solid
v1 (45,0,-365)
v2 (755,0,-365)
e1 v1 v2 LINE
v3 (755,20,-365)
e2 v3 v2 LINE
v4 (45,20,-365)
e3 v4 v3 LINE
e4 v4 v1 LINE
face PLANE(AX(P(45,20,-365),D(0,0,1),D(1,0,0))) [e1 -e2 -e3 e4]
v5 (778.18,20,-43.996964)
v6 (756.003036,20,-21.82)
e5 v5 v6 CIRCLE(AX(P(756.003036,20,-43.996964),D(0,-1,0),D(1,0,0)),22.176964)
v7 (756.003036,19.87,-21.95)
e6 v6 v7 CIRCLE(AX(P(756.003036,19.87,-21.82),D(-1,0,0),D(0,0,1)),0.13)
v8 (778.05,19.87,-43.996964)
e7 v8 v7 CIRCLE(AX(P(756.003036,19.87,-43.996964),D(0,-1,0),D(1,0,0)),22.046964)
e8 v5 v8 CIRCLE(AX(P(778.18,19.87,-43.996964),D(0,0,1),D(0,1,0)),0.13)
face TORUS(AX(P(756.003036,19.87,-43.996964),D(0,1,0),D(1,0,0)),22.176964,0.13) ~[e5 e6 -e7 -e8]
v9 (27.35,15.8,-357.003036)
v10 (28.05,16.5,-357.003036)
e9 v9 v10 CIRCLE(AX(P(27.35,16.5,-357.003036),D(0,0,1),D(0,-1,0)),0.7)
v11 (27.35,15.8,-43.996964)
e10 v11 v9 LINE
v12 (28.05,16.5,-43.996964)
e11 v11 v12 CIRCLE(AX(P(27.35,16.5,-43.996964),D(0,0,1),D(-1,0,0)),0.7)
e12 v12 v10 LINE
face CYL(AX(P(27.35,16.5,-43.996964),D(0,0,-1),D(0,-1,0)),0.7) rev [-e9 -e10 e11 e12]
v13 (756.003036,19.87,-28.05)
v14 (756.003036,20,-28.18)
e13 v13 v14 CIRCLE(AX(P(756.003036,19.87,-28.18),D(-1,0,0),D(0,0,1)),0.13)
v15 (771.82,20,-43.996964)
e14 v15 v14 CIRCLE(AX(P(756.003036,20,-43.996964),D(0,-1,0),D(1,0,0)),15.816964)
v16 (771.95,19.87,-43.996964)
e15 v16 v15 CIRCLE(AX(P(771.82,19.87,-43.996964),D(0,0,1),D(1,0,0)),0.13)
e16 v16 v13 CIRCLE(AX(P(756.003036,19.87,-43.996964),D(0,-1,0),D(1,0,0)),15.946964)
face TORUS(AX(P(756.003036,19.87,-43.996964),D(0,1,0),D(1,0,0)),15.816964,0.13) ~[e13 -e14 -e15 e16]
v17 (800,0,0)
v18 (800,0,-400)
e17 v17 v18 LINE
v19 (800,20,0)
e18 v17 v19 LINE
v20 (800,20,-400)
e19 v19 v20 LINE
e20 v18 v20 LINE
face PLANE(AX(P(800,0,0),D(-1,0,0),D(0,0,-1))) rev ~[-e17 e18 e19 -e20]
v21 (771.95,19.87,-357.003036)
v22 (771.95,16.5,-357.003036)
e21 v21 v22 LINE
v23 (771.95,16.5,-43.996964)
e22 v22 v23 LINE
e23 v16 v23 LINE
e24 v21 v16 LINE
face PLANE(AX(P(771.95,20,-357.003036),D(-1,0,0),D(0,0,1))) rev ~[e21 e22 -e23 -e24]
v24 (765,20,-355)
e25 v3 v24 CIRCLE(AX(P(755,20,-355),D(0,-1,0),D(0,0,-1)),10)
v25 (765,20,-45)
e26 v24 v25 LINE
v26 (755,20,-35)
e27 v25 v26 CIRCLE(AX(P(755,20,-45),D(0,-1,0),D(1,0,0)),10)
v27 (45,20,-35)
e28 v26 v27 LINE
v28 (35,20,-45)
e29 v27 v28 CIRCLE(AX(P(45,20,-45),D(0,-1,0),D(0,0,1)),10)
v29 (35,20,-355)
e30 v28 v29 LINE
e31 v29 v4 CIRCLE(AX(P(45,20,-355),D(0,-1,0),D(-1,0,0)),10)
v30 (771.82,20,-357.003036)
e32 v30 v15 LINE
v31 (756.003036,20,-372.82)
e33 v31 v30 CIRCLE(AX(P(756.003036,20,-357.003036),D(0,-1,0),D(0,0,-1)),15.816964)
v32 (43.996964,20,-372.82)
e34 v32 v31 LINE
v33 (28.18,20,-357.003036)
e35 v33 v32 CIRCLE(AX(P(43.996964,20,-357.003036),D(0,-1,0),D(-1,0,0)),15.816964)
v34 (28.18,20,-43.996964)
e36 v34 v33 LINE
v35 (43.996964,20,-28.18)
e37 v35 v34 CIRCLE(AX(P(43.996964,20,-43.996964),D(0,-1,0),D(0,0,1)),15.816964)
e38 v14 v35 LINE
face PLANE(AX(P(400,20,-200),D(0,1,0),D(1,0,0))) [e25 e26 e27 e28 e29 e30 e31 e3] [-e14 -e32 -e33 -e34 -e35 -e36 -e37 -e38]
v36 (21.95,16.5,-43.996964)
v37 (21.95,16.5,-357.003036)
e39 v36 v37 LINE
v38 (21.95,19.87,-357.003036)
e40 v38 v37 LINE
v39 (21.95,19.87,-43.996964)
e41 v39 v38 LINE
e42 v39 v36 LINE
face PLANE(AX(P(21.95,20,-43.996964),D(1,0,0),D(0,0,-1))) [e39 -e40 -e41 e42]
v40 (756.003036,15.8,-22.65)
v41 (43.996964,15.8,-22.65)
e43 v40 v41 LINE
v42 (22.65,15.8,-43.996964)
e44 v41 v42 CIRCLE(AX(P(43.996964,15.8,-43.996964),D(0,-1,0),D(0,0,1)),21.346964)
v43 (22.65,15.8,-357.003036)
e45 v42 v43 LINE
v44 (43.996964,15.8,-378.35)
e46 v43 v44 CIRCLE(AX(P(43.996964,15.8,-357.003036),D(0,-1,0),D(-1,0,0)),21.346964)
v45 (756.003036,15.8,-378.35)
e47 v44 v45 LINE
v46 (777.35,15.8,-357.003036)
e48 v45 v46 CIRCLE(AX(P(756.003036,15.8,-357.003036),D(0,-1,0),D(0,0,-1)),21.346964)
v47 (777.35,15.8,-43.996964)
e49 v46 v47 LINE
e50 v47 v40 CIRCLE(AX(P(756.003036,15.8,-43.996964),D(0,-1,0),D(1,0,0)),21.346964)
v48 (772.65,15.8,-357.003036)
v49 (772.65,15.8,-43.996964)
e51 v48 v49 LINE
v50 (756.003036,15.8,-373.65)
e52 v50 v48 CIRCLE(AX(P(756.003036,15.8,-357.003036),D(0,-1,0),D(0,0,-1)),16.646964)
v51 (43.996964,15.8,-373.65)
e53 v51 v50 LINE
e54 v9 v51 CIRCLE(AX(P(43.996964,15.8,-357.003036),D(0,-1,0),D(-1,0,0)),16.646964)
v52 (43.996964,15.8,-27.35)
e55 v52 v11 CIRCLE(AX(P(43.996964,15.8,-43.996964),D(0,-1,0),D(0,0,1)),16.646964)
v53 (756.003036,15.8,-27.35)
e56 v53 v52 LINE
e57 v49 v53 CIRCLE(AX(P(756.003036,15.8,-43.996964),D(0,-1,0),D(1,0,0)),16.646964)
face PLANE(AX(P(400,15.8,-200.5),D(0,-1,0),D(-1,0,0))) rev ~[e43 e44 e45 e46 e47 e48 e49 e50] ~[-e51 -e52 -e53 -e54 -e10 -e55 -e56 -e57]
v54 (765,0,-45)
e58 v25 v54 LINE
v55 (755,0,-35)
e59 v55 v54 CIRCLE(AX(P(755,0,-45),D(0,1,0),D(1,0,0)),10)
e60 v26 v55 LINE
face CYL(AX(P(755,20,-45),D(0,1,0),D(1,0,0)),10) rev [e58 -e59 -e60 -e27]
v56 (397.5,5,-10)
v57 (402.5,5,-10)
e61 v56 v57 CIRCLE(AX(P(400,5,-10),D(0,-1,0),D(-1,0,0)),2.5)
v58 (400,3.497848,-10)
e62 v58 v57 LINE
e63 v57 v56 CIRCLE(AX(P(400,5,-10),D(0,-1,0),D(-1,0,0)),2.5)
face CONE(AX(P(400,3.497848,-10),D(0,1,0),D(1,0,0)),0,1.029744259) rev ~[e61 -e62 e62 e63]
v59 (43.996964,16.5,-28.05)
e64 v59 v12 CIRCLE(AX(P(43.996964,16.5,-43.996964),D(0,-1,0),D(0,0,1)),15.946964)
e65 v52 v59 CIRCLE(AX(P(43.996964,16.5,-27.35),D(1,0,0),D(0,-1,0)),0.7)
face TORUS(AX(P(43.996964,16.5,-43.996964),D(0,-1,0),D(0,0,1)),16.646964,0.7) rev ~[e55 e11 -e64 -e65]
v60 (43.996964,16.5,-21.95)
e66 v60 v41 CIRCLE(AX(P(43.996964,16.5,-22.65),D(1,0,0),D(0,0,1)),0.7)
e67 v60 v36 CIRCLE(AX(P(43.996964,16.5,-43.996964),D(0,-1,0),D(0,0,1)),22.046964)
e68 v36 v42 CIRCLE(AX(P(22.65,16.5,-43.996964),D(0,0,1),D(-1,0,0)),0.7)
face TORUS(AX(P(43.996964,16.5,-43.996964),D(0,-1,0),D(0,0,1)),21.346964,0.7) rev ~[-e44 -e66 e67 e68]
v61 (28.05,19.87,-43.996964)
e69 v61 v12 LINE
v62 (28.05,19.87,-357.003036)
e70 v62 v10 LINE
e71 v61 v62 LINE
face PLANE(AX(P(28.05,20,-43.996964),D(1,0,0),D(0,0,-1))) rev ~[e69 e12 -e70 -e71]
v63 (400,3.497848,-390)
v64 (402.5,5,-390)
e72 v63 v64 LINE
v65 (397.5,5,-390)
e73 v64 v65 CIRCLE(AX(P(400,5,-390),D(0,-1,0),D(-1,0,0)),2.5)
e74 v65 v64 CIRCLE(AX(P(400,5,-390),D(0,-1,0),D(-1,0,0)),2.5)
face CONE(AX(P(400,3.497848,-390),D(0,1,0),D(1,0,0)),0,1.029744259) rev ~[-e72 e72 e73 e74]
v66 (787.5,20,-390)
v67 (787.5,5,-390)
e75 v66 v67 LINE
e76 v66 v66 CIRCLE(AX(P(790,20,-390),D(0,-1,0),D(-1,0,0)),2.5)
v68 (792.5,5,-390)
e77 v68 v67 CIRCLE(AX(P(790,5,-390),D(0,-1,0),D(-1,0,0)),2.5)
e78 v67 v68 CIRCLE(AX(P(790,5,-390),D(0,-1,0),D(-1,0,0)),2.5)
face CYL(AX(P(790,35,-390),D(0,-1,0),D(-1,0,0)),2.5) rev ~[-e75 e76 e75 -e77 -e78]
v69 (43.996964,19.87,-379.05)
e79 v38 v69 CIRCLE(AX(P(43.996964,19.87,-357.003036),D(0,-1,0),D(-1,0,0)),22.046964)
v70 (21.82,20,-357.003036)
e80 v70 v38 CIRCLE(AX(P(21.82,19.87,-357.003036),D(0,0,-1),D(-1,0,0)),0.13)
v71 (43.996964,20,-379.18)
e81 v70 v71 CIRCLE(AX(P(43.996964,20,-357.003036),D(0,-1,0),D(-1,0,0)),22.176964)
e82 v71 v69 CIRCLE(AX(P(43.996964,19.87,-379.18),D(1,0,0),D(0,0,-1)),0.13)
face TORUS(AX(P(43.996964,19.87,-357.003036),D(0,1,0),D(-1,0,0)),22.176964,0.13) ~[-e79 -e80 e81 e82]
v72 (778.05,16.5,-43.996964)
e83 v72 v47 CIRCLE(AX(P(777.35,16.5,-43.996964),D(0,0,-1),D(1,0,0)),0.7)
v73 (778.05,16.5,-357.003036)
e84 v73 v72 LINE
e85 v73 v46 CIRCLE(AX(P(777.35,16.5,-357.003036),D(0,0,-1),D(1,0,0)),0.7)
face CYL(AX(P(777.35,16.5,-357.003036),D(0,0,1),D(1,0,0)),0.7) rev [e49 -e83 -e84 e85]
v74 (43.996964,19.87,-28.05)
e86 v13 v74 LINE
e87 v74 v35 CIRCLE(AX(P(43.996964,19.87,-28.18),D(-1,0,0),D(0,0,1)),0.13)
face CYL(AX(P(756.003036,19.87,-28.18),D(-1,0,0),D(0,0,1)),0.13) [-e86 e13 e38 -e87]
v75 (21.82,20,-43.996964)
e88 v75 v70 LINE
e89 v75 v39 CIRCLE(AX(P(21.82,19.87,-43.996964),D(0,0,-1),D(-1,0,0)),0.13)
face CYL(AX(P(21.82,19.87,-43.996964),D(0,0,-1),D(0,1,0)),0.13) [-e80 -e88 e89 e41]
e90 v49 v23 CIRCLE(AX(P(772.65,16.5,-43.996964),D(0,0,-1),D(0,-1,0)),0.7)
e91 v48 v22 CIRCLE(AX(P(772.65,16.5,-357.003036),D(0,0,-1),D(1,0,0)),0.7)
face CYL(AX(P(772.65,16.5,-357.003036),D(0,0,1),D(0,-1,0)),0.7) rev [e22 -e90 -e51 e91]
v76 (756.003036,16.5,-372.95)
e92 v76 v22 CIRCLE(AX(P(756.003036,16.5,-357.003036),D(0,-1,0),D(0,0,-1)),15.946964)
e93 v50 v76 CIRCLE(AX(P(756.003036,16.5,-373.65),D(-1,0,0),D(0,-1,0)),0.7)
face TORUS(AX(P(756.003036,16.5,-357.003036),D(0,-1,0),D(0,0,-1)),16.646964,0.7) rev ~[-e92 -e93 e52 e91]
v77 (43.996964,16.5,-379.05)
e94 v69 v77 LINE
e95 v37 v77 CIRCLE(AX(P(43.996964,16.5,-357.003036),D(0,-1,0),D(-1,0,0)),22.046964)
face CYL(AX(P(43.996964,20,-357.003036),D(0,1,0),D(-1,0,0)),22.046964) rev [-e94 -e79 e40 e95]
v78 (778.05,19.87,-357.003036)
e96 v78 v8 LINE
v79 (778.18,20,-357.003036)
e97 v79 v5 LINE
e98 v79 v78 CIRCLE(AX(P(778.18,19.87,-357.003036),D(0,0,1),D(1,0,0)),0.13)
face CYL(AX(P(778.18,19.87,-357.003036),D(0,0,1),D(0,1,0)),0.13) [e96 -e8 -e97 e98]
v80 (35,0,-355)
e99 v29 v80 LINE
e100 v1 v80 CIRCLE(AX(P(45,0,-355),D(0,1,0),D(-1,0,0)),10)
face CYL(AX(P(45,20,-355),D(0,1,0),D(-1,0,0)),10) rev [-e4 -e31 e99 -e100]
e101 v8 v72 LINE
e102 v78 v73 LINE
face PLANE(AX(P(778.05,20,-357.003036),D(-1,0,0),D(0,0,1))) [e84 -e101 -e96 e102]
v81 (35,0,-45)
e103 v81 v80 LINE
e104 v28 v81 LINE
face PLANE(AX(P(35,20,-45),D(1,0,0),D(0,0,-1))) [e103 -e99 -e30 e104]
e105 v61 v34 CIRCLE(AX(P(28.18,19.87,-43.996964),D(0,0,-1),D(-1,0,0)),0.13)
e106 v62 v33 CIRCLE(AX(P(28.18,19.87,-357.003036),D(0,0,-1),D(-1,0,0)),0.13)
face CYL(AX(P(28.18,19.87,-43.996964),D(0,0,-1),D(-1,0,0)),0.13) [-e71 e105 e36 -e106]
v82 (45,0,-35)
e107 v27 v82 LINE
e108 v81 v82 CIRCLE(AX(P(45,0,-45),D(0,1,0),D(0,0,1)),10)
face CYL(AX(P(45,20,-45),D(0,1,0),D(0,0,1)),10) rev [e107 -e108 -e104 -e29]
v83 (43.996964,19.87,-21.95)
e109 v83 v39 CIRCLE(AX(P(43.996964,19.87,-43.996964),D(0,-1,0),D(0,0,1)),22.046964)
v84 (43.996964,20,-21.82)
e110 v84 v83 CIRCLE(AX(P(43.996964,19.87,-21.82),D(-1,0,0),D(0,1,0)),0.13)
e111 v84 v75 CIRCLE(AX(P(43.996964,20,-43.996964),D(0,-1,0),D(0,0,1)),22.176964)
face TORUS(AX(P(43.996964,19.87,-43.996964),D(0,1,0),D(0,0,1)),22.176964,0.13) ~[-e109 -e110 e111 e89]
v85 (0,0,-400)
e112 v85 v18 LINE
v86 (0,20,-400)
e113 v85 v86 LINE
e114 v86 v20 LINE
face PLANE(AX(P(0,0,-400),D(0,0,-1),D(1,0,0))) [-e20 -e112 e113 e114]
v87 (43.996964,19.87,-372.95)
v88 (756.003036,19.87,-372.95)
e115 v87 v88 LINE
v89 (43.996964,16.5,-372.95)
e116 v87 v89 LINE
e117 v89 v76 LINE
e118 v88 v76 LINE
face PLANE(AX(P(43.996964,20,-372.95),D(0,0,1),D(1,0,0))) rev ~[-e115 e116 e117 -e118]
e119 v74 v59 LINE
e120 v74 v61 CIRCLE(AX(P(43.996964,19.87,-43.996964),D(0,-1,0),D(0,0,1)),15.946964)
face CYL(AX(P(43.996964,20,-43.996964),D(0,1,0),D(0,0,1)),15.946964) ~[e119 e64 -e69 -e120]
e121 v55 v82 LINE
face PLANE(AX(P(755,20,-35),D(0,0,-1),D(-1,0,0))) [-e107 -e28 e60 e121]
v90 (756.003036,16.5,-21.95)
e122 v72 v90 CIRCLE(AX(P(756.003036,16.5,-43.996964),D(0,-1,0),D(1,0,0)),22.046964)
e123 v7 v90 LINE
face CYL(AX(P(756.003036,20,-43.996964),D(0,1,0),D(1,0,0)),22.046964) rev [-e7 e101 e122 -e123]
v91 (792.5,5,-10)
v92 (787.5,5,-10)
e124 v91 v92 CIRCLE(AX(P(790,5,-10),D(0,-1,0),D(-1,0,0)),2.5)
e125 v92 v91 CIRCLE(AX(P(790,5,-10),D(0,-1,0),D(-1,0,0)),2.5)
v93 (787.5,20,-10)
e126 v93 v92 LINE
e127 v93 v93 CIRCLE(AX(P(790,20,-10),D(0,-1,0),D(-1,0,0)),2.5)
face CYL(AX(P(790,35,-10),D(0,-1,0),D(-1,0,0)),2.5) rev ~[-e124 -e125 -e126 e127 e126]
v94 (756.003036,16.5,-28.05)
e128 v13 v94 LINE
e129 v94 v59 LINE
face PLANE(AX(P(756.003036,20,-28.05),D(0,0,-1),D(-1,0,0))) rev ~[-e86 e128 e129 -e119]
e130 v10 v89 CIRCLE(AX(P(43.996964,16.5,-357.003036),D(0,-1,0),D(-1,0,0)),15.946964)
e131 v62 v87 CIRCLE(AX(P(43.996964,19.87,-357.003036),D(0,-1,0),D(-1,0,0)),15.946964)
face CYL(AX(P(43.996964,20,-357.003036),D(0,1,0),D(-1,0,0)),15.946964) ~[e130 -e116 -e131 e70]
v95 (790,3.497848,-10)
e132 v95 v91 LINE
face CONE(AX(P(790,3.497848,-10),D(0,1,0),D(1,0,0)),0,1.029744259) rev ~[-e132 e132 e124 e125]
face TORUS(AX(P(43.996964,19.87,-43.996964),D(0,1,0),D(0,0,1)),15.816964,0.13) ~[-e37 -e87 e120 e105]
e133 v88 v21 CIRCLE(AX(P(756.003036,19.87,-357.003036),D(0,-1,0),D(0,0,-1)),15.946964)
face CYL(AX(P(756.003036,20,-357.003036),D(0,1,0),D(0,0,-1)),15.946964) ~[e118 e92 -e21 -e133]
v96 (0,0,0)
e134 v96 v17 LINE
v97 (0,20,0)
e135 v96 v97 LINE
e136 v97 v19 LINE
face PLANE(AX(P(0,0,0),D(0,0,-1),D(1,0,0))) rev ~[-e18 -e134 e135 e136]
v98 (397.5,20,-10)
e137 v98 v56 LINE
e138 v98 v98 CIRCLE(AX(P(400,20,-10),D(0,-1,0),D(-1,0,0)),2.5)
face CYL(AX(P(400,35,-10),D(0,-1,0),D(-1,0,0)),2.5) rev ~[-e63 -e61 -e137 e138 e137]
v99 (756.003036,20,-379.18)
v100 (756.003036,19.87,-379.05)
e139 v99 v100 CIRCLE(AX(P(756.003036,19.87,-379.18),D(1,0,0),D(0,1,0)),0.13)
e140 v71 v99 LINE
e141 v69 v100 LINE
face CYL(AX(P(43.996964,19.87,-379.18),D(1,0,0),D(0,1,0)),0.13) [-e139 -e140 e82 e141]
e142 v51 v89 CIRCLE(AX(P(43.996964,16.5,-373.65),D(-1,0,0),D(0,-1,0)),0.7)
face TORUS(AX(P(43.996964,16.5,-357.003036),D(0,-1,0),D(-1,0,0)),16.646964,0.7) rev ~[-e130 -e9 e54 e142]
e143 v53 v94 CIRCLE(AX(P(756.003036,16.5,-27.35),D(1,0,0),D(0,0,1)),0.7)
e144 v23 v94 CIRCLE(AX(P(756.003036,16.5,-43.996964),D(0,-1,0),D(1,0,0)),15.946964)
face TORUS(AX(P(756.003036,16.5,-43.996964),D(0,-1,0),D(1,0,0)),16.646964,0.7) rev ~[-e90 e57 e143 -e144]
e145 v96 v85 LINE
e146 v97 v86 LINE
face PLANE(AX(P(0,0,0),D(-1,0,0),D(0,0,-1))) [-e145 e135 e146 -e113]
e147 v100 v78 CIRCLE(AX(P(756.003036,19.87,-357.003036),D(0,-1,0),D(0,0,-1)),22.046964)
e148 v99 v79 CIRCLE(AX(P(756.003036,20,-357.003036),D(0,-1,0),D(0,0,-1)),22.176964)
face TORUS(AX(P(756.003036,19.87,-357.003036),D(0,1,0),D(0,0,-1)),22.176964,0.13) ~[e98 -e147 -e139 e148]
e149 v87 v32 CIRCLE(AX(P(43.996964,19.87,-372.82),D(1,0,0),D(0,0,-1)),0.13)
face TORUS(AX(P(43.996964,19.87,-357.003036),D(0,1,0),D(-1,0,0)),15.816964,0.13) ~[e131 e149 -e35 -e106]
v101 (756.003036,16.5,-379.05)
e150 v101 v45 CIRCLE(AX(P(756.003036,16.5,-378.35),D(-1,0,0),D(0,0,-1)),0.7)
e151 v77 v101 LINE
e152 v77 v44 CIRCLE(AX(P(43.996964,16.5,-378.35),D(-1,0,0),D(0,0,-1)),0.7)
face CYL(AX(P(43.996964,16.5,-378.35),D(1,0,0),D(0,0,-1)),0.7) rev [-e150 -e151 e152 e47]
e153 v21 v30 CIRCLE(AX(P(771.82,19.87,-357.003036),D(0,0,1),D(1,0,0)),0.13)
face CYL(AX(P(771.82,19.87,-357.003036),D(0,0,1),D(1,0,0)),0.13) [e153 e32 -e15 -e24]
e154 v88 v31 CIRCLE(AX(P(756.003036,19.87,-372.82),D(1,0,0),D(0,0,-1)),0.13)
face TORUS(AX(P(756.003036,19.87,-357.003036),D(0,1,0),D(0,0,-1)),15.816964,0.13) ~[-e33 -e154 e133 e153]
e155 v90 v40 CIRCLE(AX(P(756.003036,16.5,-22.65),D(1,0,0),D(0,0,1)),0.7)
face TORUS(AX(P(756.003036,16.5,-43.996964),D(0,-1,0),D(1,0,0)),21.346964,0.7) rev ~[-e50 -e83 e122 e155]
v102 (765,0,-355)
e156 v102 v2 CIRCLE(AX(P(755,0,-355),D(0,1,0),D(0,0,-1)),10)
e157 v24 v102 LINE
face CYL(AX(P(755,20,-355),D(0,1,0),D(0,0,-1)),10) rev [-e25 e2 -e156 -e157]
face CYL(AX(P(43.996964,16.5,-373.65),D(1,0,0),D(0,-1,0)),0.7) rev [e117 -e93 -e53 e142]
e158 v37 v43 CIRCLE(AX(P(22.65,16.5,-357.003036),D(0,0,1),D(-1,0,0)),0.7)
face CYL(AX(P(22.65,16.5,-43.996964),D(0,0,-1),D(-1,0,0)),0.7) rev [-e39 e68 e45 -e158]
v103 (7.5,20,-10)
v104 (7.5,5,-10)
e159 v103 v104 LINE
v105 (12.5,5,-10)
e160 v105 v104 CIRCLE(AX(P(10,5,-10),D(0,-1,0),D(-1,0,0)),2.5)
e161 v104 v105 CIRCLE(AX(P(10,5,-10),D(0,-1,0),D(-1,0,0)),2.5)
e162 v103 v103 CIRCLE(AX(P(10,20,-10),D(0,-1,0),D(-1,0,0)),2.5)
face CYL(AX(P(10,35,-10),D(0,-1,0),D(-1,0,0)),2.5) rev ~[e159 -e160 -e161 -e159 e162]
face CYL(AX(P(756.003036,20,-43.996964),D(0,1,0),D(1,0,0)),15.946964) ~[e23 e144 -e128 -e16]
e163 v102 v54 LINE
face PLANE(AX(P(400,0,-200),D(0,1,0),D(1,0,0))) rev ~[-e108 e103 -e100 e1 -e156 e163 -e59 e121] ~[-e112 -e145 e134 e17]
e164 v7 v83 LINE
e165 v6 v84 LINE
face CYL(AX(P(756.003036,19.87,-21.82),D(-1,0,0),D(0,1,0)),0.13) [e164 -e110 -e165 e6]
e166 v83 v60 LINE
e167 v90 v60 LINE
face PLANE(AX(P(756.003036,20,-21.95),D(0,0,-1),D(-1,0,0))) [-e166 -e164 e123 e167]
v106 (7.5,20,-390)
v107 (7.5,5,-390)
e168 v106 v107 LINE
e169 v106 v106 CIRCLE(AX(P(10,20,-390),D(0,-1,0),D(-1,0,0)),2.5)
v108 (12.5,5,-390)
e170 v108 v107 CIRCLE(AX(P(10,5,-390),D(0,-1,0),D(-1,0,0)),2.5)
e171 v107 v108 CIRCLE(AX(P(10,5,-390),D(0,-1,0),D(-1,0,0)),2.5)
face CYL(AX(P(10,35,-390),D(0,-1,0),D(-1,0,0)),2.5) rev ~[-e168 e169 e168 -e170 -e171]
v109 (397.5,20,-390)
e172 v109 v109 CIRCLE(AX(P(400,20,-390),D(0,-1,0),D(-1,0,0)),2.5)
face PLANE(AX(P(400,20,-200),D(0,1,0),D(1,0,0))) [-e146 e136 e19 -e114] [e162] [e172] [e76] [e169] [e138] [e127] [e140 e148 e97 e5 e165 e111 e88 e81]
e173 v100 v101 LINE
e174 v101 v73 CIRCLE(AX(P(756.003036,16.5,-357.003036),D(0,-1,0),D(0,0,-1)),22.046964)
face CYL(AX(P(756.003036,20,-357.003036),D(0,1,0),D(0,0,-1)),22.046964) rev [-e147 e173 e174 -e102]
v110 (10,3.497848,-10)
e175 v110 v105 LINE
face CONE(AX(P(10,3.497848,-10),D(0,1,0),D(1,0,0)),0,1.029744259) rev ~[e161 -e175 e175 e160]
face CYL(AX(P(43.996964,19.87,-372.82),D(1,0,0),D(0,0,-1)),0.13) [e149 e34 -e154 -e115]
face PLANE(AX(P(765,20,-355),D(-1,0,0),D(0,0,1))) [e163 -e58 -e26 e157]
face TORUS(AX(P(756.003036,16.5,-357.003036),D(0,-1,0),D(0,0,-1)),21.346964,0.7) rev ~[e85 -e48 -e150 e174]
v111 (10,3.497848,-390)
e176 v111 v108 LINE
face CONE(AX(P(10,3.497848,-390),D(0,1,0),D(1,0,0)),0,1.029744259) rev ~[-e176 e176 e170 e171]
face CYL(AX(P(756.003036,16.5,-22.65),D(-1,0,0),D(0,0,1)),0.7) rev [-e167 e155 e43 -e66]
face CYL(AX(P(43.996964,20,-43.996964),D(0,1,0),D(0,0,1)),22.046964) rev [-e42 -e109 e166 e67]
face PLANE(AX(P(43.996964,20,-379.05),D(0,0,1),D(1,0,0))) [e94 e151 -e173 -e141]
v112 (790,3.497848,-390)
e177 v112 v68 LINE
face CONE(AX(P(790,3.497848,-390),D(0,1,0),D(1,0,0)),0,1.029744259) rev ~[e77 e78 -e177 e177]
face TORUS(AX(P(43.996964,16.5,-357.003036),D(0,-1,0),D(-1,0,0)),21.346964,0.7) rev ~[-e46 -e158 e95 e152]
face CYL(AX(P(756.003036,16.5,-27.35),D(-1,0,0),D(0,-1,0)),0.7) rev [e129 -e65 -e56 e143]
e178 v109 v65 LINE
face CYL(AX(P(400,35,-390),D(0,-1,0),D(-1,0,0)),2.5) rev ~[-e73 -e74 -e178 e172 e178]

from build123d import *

# Parameters (mm, degrees)
SKETCH_1_W             = 800
SKETCH_1_H             = 400
EXTRUDE_1_DEPTH        = 20
CUT_EXTRUDE_1_DEPTH    = 4.2
FILLET_1_R             = 0.13
FILLET_2_R             = 0.7
CUT_EXTRUDE_2_DEPTH    = 895.650769854
HOLE_WIZARD_M6_1_D     = 5
HOLE_WIZARD_M6_1_DEPTH = 15
HOLE_WIZARD_M6_1_TIP   = 1.502151548


with BuildPart() as part:
    # 스케치1 → 보스-돌출1 (new body)
    with BuildSketch(Plane(origin=(0, 0, 0), x_dir=(1, 0, 0), z_dir=(0, 1, 0))):
        with Locations((400, 200)):
            Rectangle(SKETCH_1_W, SKETCH_1_H)
    extrude(amount=EXTRUDE_1_DEPTH)

    # 스케치2 → 컷-돌출1 (cut)
    with BuildSketch(Plane(origin=(0, 20, 0), x_dir=(1, 0, 0), z_dir=(0, 1, 0))):
        with BuildLine():
            Line((43.996963872, 379.05), (756.003036128, 379.05))
            ThreePointArc((756.003036128, 379.05), (771.592593786, 372.592593786), (778.05, 357.003036128))
            Line((778.05, 357.003036128), (778.05, 43.996963872))
            ThreePointArc((778.05, 43.996963872), (771.592593786, 28.407406214), (756.003036128, 21.95))
            Line((756.003036128, 21.95), (43.996963872, 21.95))
            ThreePointArc((43.996963872, 21.95), (28.407406214, 28.407406214), (21.95, 43.996963872))
            Line((21.95, 43.996963872), (21.95, 357.003036128))
            ThreePointArc((21.95, 357.003036128), (28.407406214, 372.592593786), (43.996963872, 379.05))
        make_face()
        with BuildLine():
            Line((43.996963872, 372.95), (756.003036128, 372.95))
            ThreePointArc((756.003036128, 372.95), (767.279242421, 368.279242421), (771.95, 357.003036128))
            Line((771.95, 357.003036128), (771.95, 43.996963872))
            ThreePointArc((771.95, 43.996963872), (767.279242421, 32.720757579), (756.003036128, 28.05))
            Line((756.003036128, 28.05), (43.996963872, 28.05))
            ThreePointArc((43.996963872, 28.05), (32.720757579, 32.720757579), (28.05, 43.996963872))
            Line((28.05, 43.996963872), (28.05, 357.003036128))
            ThreePointArc((28.05, 357.003036128), (32.720757579, 368.279242421), (43.996963872, 372.95))
        make_face(mode=Mode.SUBTRACT)
    extrude(amount=-CUT_EXTRUDE_1_DEPTH, mode=Mode.SUBTRACT)

    # 필렛1
    fillet_1_edges = [part.edges().sort_by_distance(p)[0] for p in [
        (28.407406214, 20, -372.592593786),
        (21.95, 20, -200.5),
        (28.407406214, 20, -28.407406214),
        (400, 20, -21.95),
        (771.592593786, 20, -28.407406214),
        (778.05, 20, -200.5),
        (771.592593786, 20, -372.592593786),
        (400, 20, -379.05),
        (32.720757579, 20, -368.279242421),
        (400, 20, -372.95),
        (767.279242421, 20, -368.279242421),
        (771.95, 20, -200.5),
        (767.279242421, 20, -32.720757579),
        (400, 20, -28.05),
        (32.720757579, 20, -32.720757579),
        (28.05, 20, -200.5),
    ]]
    fillet(fillet_1_edges, radius=FILLET_1_R)

    # 필렛2
    fillet_2_edges = [part.edges().sort_by_distance(p)[0] for p in [
        (28.407406214, 15.8, -372.592593786),
        (400, 15.8, -379.05),
        (771.592593786, 15.8, -372.592593786),
        (778.05, 15.8, -200.5),
        (771.592593786, 15.8, -28.407406214),
        (400, 15.8, -21.95),
        (28.407406214, 15.8, -28.407406214),
        (21.95, 15.8, -200.5),
        (400, 15.8, -372.95),
        (32.720757579, 15.8, -368.279242421),
        (28.05, 15.8, -200.5),
        (32.720757579, 15.8, -32.720757579),
        (400, 15.8, -28.05),
        (767.279242421, 15.8, -32.720757579),
        (771.95, 15.8, -200.5),
        (767.279242421, 15.8, -368.279242421),
    ]]
    fillet(fillet_2_edges, radius=FILLET_2_R)

    # 스케치3 → 컷-돌출2 (cut, through all)
    with BuildSketch(Plane(origin=(0, 20, 0), x_dir=(1, 0, 0), z_dir=(0, 1, 0))):
        with BuildLine():
            Line((45, 365), (755, 365))
            ThreePointArc((755, 365), (762.071067812, 362.071067812), (765, 355))
            Line((765, 355), (765, 45))
            ThreePointArc((765, 45), (762.071067812, 37.928932188), (755, 35))
            Line((755, 35), (45, 35))
            ThreePointArc((45, 35), (37.928932188, 37.928932188), (35, 45))
            Line((35, 45), (35, 355))
            ThreePointArc((35, 355), (37.928932188, 362.071067812), (45, 365))
        make_face()
    extrude(amount=-CUT_EXTRUDE_2_DEPTH, mode=Mode.SUBTRACT)

    # M6 나사 구멍1
    with Locations(Plane(origin=(0, 20, 0), x_dir=(1, 0, 0), z_dir=(0, 1, 0))):
        with Locations((10, 10), (10, 390), (790, 390), (790, 10), (400, 390), (400, 10)):
            Hole(HOLE_WIZARD_M6_1_D / 2, depth=HOLE_WIZARD_M6_1_DEPTH)
            with Locations((0, 0, -(HOLE_WIZARD_M6_1_DEPTH + HOLE_WIZARD_M6_1_TIP / 2))):  # 118° drill point
                Cone(0, HOLE_WIZARD_M6_1_D / 2, HOLE_WIZARD_M6_1_TIP, mode=Mode.SUBTRACT)


solid = part.part
